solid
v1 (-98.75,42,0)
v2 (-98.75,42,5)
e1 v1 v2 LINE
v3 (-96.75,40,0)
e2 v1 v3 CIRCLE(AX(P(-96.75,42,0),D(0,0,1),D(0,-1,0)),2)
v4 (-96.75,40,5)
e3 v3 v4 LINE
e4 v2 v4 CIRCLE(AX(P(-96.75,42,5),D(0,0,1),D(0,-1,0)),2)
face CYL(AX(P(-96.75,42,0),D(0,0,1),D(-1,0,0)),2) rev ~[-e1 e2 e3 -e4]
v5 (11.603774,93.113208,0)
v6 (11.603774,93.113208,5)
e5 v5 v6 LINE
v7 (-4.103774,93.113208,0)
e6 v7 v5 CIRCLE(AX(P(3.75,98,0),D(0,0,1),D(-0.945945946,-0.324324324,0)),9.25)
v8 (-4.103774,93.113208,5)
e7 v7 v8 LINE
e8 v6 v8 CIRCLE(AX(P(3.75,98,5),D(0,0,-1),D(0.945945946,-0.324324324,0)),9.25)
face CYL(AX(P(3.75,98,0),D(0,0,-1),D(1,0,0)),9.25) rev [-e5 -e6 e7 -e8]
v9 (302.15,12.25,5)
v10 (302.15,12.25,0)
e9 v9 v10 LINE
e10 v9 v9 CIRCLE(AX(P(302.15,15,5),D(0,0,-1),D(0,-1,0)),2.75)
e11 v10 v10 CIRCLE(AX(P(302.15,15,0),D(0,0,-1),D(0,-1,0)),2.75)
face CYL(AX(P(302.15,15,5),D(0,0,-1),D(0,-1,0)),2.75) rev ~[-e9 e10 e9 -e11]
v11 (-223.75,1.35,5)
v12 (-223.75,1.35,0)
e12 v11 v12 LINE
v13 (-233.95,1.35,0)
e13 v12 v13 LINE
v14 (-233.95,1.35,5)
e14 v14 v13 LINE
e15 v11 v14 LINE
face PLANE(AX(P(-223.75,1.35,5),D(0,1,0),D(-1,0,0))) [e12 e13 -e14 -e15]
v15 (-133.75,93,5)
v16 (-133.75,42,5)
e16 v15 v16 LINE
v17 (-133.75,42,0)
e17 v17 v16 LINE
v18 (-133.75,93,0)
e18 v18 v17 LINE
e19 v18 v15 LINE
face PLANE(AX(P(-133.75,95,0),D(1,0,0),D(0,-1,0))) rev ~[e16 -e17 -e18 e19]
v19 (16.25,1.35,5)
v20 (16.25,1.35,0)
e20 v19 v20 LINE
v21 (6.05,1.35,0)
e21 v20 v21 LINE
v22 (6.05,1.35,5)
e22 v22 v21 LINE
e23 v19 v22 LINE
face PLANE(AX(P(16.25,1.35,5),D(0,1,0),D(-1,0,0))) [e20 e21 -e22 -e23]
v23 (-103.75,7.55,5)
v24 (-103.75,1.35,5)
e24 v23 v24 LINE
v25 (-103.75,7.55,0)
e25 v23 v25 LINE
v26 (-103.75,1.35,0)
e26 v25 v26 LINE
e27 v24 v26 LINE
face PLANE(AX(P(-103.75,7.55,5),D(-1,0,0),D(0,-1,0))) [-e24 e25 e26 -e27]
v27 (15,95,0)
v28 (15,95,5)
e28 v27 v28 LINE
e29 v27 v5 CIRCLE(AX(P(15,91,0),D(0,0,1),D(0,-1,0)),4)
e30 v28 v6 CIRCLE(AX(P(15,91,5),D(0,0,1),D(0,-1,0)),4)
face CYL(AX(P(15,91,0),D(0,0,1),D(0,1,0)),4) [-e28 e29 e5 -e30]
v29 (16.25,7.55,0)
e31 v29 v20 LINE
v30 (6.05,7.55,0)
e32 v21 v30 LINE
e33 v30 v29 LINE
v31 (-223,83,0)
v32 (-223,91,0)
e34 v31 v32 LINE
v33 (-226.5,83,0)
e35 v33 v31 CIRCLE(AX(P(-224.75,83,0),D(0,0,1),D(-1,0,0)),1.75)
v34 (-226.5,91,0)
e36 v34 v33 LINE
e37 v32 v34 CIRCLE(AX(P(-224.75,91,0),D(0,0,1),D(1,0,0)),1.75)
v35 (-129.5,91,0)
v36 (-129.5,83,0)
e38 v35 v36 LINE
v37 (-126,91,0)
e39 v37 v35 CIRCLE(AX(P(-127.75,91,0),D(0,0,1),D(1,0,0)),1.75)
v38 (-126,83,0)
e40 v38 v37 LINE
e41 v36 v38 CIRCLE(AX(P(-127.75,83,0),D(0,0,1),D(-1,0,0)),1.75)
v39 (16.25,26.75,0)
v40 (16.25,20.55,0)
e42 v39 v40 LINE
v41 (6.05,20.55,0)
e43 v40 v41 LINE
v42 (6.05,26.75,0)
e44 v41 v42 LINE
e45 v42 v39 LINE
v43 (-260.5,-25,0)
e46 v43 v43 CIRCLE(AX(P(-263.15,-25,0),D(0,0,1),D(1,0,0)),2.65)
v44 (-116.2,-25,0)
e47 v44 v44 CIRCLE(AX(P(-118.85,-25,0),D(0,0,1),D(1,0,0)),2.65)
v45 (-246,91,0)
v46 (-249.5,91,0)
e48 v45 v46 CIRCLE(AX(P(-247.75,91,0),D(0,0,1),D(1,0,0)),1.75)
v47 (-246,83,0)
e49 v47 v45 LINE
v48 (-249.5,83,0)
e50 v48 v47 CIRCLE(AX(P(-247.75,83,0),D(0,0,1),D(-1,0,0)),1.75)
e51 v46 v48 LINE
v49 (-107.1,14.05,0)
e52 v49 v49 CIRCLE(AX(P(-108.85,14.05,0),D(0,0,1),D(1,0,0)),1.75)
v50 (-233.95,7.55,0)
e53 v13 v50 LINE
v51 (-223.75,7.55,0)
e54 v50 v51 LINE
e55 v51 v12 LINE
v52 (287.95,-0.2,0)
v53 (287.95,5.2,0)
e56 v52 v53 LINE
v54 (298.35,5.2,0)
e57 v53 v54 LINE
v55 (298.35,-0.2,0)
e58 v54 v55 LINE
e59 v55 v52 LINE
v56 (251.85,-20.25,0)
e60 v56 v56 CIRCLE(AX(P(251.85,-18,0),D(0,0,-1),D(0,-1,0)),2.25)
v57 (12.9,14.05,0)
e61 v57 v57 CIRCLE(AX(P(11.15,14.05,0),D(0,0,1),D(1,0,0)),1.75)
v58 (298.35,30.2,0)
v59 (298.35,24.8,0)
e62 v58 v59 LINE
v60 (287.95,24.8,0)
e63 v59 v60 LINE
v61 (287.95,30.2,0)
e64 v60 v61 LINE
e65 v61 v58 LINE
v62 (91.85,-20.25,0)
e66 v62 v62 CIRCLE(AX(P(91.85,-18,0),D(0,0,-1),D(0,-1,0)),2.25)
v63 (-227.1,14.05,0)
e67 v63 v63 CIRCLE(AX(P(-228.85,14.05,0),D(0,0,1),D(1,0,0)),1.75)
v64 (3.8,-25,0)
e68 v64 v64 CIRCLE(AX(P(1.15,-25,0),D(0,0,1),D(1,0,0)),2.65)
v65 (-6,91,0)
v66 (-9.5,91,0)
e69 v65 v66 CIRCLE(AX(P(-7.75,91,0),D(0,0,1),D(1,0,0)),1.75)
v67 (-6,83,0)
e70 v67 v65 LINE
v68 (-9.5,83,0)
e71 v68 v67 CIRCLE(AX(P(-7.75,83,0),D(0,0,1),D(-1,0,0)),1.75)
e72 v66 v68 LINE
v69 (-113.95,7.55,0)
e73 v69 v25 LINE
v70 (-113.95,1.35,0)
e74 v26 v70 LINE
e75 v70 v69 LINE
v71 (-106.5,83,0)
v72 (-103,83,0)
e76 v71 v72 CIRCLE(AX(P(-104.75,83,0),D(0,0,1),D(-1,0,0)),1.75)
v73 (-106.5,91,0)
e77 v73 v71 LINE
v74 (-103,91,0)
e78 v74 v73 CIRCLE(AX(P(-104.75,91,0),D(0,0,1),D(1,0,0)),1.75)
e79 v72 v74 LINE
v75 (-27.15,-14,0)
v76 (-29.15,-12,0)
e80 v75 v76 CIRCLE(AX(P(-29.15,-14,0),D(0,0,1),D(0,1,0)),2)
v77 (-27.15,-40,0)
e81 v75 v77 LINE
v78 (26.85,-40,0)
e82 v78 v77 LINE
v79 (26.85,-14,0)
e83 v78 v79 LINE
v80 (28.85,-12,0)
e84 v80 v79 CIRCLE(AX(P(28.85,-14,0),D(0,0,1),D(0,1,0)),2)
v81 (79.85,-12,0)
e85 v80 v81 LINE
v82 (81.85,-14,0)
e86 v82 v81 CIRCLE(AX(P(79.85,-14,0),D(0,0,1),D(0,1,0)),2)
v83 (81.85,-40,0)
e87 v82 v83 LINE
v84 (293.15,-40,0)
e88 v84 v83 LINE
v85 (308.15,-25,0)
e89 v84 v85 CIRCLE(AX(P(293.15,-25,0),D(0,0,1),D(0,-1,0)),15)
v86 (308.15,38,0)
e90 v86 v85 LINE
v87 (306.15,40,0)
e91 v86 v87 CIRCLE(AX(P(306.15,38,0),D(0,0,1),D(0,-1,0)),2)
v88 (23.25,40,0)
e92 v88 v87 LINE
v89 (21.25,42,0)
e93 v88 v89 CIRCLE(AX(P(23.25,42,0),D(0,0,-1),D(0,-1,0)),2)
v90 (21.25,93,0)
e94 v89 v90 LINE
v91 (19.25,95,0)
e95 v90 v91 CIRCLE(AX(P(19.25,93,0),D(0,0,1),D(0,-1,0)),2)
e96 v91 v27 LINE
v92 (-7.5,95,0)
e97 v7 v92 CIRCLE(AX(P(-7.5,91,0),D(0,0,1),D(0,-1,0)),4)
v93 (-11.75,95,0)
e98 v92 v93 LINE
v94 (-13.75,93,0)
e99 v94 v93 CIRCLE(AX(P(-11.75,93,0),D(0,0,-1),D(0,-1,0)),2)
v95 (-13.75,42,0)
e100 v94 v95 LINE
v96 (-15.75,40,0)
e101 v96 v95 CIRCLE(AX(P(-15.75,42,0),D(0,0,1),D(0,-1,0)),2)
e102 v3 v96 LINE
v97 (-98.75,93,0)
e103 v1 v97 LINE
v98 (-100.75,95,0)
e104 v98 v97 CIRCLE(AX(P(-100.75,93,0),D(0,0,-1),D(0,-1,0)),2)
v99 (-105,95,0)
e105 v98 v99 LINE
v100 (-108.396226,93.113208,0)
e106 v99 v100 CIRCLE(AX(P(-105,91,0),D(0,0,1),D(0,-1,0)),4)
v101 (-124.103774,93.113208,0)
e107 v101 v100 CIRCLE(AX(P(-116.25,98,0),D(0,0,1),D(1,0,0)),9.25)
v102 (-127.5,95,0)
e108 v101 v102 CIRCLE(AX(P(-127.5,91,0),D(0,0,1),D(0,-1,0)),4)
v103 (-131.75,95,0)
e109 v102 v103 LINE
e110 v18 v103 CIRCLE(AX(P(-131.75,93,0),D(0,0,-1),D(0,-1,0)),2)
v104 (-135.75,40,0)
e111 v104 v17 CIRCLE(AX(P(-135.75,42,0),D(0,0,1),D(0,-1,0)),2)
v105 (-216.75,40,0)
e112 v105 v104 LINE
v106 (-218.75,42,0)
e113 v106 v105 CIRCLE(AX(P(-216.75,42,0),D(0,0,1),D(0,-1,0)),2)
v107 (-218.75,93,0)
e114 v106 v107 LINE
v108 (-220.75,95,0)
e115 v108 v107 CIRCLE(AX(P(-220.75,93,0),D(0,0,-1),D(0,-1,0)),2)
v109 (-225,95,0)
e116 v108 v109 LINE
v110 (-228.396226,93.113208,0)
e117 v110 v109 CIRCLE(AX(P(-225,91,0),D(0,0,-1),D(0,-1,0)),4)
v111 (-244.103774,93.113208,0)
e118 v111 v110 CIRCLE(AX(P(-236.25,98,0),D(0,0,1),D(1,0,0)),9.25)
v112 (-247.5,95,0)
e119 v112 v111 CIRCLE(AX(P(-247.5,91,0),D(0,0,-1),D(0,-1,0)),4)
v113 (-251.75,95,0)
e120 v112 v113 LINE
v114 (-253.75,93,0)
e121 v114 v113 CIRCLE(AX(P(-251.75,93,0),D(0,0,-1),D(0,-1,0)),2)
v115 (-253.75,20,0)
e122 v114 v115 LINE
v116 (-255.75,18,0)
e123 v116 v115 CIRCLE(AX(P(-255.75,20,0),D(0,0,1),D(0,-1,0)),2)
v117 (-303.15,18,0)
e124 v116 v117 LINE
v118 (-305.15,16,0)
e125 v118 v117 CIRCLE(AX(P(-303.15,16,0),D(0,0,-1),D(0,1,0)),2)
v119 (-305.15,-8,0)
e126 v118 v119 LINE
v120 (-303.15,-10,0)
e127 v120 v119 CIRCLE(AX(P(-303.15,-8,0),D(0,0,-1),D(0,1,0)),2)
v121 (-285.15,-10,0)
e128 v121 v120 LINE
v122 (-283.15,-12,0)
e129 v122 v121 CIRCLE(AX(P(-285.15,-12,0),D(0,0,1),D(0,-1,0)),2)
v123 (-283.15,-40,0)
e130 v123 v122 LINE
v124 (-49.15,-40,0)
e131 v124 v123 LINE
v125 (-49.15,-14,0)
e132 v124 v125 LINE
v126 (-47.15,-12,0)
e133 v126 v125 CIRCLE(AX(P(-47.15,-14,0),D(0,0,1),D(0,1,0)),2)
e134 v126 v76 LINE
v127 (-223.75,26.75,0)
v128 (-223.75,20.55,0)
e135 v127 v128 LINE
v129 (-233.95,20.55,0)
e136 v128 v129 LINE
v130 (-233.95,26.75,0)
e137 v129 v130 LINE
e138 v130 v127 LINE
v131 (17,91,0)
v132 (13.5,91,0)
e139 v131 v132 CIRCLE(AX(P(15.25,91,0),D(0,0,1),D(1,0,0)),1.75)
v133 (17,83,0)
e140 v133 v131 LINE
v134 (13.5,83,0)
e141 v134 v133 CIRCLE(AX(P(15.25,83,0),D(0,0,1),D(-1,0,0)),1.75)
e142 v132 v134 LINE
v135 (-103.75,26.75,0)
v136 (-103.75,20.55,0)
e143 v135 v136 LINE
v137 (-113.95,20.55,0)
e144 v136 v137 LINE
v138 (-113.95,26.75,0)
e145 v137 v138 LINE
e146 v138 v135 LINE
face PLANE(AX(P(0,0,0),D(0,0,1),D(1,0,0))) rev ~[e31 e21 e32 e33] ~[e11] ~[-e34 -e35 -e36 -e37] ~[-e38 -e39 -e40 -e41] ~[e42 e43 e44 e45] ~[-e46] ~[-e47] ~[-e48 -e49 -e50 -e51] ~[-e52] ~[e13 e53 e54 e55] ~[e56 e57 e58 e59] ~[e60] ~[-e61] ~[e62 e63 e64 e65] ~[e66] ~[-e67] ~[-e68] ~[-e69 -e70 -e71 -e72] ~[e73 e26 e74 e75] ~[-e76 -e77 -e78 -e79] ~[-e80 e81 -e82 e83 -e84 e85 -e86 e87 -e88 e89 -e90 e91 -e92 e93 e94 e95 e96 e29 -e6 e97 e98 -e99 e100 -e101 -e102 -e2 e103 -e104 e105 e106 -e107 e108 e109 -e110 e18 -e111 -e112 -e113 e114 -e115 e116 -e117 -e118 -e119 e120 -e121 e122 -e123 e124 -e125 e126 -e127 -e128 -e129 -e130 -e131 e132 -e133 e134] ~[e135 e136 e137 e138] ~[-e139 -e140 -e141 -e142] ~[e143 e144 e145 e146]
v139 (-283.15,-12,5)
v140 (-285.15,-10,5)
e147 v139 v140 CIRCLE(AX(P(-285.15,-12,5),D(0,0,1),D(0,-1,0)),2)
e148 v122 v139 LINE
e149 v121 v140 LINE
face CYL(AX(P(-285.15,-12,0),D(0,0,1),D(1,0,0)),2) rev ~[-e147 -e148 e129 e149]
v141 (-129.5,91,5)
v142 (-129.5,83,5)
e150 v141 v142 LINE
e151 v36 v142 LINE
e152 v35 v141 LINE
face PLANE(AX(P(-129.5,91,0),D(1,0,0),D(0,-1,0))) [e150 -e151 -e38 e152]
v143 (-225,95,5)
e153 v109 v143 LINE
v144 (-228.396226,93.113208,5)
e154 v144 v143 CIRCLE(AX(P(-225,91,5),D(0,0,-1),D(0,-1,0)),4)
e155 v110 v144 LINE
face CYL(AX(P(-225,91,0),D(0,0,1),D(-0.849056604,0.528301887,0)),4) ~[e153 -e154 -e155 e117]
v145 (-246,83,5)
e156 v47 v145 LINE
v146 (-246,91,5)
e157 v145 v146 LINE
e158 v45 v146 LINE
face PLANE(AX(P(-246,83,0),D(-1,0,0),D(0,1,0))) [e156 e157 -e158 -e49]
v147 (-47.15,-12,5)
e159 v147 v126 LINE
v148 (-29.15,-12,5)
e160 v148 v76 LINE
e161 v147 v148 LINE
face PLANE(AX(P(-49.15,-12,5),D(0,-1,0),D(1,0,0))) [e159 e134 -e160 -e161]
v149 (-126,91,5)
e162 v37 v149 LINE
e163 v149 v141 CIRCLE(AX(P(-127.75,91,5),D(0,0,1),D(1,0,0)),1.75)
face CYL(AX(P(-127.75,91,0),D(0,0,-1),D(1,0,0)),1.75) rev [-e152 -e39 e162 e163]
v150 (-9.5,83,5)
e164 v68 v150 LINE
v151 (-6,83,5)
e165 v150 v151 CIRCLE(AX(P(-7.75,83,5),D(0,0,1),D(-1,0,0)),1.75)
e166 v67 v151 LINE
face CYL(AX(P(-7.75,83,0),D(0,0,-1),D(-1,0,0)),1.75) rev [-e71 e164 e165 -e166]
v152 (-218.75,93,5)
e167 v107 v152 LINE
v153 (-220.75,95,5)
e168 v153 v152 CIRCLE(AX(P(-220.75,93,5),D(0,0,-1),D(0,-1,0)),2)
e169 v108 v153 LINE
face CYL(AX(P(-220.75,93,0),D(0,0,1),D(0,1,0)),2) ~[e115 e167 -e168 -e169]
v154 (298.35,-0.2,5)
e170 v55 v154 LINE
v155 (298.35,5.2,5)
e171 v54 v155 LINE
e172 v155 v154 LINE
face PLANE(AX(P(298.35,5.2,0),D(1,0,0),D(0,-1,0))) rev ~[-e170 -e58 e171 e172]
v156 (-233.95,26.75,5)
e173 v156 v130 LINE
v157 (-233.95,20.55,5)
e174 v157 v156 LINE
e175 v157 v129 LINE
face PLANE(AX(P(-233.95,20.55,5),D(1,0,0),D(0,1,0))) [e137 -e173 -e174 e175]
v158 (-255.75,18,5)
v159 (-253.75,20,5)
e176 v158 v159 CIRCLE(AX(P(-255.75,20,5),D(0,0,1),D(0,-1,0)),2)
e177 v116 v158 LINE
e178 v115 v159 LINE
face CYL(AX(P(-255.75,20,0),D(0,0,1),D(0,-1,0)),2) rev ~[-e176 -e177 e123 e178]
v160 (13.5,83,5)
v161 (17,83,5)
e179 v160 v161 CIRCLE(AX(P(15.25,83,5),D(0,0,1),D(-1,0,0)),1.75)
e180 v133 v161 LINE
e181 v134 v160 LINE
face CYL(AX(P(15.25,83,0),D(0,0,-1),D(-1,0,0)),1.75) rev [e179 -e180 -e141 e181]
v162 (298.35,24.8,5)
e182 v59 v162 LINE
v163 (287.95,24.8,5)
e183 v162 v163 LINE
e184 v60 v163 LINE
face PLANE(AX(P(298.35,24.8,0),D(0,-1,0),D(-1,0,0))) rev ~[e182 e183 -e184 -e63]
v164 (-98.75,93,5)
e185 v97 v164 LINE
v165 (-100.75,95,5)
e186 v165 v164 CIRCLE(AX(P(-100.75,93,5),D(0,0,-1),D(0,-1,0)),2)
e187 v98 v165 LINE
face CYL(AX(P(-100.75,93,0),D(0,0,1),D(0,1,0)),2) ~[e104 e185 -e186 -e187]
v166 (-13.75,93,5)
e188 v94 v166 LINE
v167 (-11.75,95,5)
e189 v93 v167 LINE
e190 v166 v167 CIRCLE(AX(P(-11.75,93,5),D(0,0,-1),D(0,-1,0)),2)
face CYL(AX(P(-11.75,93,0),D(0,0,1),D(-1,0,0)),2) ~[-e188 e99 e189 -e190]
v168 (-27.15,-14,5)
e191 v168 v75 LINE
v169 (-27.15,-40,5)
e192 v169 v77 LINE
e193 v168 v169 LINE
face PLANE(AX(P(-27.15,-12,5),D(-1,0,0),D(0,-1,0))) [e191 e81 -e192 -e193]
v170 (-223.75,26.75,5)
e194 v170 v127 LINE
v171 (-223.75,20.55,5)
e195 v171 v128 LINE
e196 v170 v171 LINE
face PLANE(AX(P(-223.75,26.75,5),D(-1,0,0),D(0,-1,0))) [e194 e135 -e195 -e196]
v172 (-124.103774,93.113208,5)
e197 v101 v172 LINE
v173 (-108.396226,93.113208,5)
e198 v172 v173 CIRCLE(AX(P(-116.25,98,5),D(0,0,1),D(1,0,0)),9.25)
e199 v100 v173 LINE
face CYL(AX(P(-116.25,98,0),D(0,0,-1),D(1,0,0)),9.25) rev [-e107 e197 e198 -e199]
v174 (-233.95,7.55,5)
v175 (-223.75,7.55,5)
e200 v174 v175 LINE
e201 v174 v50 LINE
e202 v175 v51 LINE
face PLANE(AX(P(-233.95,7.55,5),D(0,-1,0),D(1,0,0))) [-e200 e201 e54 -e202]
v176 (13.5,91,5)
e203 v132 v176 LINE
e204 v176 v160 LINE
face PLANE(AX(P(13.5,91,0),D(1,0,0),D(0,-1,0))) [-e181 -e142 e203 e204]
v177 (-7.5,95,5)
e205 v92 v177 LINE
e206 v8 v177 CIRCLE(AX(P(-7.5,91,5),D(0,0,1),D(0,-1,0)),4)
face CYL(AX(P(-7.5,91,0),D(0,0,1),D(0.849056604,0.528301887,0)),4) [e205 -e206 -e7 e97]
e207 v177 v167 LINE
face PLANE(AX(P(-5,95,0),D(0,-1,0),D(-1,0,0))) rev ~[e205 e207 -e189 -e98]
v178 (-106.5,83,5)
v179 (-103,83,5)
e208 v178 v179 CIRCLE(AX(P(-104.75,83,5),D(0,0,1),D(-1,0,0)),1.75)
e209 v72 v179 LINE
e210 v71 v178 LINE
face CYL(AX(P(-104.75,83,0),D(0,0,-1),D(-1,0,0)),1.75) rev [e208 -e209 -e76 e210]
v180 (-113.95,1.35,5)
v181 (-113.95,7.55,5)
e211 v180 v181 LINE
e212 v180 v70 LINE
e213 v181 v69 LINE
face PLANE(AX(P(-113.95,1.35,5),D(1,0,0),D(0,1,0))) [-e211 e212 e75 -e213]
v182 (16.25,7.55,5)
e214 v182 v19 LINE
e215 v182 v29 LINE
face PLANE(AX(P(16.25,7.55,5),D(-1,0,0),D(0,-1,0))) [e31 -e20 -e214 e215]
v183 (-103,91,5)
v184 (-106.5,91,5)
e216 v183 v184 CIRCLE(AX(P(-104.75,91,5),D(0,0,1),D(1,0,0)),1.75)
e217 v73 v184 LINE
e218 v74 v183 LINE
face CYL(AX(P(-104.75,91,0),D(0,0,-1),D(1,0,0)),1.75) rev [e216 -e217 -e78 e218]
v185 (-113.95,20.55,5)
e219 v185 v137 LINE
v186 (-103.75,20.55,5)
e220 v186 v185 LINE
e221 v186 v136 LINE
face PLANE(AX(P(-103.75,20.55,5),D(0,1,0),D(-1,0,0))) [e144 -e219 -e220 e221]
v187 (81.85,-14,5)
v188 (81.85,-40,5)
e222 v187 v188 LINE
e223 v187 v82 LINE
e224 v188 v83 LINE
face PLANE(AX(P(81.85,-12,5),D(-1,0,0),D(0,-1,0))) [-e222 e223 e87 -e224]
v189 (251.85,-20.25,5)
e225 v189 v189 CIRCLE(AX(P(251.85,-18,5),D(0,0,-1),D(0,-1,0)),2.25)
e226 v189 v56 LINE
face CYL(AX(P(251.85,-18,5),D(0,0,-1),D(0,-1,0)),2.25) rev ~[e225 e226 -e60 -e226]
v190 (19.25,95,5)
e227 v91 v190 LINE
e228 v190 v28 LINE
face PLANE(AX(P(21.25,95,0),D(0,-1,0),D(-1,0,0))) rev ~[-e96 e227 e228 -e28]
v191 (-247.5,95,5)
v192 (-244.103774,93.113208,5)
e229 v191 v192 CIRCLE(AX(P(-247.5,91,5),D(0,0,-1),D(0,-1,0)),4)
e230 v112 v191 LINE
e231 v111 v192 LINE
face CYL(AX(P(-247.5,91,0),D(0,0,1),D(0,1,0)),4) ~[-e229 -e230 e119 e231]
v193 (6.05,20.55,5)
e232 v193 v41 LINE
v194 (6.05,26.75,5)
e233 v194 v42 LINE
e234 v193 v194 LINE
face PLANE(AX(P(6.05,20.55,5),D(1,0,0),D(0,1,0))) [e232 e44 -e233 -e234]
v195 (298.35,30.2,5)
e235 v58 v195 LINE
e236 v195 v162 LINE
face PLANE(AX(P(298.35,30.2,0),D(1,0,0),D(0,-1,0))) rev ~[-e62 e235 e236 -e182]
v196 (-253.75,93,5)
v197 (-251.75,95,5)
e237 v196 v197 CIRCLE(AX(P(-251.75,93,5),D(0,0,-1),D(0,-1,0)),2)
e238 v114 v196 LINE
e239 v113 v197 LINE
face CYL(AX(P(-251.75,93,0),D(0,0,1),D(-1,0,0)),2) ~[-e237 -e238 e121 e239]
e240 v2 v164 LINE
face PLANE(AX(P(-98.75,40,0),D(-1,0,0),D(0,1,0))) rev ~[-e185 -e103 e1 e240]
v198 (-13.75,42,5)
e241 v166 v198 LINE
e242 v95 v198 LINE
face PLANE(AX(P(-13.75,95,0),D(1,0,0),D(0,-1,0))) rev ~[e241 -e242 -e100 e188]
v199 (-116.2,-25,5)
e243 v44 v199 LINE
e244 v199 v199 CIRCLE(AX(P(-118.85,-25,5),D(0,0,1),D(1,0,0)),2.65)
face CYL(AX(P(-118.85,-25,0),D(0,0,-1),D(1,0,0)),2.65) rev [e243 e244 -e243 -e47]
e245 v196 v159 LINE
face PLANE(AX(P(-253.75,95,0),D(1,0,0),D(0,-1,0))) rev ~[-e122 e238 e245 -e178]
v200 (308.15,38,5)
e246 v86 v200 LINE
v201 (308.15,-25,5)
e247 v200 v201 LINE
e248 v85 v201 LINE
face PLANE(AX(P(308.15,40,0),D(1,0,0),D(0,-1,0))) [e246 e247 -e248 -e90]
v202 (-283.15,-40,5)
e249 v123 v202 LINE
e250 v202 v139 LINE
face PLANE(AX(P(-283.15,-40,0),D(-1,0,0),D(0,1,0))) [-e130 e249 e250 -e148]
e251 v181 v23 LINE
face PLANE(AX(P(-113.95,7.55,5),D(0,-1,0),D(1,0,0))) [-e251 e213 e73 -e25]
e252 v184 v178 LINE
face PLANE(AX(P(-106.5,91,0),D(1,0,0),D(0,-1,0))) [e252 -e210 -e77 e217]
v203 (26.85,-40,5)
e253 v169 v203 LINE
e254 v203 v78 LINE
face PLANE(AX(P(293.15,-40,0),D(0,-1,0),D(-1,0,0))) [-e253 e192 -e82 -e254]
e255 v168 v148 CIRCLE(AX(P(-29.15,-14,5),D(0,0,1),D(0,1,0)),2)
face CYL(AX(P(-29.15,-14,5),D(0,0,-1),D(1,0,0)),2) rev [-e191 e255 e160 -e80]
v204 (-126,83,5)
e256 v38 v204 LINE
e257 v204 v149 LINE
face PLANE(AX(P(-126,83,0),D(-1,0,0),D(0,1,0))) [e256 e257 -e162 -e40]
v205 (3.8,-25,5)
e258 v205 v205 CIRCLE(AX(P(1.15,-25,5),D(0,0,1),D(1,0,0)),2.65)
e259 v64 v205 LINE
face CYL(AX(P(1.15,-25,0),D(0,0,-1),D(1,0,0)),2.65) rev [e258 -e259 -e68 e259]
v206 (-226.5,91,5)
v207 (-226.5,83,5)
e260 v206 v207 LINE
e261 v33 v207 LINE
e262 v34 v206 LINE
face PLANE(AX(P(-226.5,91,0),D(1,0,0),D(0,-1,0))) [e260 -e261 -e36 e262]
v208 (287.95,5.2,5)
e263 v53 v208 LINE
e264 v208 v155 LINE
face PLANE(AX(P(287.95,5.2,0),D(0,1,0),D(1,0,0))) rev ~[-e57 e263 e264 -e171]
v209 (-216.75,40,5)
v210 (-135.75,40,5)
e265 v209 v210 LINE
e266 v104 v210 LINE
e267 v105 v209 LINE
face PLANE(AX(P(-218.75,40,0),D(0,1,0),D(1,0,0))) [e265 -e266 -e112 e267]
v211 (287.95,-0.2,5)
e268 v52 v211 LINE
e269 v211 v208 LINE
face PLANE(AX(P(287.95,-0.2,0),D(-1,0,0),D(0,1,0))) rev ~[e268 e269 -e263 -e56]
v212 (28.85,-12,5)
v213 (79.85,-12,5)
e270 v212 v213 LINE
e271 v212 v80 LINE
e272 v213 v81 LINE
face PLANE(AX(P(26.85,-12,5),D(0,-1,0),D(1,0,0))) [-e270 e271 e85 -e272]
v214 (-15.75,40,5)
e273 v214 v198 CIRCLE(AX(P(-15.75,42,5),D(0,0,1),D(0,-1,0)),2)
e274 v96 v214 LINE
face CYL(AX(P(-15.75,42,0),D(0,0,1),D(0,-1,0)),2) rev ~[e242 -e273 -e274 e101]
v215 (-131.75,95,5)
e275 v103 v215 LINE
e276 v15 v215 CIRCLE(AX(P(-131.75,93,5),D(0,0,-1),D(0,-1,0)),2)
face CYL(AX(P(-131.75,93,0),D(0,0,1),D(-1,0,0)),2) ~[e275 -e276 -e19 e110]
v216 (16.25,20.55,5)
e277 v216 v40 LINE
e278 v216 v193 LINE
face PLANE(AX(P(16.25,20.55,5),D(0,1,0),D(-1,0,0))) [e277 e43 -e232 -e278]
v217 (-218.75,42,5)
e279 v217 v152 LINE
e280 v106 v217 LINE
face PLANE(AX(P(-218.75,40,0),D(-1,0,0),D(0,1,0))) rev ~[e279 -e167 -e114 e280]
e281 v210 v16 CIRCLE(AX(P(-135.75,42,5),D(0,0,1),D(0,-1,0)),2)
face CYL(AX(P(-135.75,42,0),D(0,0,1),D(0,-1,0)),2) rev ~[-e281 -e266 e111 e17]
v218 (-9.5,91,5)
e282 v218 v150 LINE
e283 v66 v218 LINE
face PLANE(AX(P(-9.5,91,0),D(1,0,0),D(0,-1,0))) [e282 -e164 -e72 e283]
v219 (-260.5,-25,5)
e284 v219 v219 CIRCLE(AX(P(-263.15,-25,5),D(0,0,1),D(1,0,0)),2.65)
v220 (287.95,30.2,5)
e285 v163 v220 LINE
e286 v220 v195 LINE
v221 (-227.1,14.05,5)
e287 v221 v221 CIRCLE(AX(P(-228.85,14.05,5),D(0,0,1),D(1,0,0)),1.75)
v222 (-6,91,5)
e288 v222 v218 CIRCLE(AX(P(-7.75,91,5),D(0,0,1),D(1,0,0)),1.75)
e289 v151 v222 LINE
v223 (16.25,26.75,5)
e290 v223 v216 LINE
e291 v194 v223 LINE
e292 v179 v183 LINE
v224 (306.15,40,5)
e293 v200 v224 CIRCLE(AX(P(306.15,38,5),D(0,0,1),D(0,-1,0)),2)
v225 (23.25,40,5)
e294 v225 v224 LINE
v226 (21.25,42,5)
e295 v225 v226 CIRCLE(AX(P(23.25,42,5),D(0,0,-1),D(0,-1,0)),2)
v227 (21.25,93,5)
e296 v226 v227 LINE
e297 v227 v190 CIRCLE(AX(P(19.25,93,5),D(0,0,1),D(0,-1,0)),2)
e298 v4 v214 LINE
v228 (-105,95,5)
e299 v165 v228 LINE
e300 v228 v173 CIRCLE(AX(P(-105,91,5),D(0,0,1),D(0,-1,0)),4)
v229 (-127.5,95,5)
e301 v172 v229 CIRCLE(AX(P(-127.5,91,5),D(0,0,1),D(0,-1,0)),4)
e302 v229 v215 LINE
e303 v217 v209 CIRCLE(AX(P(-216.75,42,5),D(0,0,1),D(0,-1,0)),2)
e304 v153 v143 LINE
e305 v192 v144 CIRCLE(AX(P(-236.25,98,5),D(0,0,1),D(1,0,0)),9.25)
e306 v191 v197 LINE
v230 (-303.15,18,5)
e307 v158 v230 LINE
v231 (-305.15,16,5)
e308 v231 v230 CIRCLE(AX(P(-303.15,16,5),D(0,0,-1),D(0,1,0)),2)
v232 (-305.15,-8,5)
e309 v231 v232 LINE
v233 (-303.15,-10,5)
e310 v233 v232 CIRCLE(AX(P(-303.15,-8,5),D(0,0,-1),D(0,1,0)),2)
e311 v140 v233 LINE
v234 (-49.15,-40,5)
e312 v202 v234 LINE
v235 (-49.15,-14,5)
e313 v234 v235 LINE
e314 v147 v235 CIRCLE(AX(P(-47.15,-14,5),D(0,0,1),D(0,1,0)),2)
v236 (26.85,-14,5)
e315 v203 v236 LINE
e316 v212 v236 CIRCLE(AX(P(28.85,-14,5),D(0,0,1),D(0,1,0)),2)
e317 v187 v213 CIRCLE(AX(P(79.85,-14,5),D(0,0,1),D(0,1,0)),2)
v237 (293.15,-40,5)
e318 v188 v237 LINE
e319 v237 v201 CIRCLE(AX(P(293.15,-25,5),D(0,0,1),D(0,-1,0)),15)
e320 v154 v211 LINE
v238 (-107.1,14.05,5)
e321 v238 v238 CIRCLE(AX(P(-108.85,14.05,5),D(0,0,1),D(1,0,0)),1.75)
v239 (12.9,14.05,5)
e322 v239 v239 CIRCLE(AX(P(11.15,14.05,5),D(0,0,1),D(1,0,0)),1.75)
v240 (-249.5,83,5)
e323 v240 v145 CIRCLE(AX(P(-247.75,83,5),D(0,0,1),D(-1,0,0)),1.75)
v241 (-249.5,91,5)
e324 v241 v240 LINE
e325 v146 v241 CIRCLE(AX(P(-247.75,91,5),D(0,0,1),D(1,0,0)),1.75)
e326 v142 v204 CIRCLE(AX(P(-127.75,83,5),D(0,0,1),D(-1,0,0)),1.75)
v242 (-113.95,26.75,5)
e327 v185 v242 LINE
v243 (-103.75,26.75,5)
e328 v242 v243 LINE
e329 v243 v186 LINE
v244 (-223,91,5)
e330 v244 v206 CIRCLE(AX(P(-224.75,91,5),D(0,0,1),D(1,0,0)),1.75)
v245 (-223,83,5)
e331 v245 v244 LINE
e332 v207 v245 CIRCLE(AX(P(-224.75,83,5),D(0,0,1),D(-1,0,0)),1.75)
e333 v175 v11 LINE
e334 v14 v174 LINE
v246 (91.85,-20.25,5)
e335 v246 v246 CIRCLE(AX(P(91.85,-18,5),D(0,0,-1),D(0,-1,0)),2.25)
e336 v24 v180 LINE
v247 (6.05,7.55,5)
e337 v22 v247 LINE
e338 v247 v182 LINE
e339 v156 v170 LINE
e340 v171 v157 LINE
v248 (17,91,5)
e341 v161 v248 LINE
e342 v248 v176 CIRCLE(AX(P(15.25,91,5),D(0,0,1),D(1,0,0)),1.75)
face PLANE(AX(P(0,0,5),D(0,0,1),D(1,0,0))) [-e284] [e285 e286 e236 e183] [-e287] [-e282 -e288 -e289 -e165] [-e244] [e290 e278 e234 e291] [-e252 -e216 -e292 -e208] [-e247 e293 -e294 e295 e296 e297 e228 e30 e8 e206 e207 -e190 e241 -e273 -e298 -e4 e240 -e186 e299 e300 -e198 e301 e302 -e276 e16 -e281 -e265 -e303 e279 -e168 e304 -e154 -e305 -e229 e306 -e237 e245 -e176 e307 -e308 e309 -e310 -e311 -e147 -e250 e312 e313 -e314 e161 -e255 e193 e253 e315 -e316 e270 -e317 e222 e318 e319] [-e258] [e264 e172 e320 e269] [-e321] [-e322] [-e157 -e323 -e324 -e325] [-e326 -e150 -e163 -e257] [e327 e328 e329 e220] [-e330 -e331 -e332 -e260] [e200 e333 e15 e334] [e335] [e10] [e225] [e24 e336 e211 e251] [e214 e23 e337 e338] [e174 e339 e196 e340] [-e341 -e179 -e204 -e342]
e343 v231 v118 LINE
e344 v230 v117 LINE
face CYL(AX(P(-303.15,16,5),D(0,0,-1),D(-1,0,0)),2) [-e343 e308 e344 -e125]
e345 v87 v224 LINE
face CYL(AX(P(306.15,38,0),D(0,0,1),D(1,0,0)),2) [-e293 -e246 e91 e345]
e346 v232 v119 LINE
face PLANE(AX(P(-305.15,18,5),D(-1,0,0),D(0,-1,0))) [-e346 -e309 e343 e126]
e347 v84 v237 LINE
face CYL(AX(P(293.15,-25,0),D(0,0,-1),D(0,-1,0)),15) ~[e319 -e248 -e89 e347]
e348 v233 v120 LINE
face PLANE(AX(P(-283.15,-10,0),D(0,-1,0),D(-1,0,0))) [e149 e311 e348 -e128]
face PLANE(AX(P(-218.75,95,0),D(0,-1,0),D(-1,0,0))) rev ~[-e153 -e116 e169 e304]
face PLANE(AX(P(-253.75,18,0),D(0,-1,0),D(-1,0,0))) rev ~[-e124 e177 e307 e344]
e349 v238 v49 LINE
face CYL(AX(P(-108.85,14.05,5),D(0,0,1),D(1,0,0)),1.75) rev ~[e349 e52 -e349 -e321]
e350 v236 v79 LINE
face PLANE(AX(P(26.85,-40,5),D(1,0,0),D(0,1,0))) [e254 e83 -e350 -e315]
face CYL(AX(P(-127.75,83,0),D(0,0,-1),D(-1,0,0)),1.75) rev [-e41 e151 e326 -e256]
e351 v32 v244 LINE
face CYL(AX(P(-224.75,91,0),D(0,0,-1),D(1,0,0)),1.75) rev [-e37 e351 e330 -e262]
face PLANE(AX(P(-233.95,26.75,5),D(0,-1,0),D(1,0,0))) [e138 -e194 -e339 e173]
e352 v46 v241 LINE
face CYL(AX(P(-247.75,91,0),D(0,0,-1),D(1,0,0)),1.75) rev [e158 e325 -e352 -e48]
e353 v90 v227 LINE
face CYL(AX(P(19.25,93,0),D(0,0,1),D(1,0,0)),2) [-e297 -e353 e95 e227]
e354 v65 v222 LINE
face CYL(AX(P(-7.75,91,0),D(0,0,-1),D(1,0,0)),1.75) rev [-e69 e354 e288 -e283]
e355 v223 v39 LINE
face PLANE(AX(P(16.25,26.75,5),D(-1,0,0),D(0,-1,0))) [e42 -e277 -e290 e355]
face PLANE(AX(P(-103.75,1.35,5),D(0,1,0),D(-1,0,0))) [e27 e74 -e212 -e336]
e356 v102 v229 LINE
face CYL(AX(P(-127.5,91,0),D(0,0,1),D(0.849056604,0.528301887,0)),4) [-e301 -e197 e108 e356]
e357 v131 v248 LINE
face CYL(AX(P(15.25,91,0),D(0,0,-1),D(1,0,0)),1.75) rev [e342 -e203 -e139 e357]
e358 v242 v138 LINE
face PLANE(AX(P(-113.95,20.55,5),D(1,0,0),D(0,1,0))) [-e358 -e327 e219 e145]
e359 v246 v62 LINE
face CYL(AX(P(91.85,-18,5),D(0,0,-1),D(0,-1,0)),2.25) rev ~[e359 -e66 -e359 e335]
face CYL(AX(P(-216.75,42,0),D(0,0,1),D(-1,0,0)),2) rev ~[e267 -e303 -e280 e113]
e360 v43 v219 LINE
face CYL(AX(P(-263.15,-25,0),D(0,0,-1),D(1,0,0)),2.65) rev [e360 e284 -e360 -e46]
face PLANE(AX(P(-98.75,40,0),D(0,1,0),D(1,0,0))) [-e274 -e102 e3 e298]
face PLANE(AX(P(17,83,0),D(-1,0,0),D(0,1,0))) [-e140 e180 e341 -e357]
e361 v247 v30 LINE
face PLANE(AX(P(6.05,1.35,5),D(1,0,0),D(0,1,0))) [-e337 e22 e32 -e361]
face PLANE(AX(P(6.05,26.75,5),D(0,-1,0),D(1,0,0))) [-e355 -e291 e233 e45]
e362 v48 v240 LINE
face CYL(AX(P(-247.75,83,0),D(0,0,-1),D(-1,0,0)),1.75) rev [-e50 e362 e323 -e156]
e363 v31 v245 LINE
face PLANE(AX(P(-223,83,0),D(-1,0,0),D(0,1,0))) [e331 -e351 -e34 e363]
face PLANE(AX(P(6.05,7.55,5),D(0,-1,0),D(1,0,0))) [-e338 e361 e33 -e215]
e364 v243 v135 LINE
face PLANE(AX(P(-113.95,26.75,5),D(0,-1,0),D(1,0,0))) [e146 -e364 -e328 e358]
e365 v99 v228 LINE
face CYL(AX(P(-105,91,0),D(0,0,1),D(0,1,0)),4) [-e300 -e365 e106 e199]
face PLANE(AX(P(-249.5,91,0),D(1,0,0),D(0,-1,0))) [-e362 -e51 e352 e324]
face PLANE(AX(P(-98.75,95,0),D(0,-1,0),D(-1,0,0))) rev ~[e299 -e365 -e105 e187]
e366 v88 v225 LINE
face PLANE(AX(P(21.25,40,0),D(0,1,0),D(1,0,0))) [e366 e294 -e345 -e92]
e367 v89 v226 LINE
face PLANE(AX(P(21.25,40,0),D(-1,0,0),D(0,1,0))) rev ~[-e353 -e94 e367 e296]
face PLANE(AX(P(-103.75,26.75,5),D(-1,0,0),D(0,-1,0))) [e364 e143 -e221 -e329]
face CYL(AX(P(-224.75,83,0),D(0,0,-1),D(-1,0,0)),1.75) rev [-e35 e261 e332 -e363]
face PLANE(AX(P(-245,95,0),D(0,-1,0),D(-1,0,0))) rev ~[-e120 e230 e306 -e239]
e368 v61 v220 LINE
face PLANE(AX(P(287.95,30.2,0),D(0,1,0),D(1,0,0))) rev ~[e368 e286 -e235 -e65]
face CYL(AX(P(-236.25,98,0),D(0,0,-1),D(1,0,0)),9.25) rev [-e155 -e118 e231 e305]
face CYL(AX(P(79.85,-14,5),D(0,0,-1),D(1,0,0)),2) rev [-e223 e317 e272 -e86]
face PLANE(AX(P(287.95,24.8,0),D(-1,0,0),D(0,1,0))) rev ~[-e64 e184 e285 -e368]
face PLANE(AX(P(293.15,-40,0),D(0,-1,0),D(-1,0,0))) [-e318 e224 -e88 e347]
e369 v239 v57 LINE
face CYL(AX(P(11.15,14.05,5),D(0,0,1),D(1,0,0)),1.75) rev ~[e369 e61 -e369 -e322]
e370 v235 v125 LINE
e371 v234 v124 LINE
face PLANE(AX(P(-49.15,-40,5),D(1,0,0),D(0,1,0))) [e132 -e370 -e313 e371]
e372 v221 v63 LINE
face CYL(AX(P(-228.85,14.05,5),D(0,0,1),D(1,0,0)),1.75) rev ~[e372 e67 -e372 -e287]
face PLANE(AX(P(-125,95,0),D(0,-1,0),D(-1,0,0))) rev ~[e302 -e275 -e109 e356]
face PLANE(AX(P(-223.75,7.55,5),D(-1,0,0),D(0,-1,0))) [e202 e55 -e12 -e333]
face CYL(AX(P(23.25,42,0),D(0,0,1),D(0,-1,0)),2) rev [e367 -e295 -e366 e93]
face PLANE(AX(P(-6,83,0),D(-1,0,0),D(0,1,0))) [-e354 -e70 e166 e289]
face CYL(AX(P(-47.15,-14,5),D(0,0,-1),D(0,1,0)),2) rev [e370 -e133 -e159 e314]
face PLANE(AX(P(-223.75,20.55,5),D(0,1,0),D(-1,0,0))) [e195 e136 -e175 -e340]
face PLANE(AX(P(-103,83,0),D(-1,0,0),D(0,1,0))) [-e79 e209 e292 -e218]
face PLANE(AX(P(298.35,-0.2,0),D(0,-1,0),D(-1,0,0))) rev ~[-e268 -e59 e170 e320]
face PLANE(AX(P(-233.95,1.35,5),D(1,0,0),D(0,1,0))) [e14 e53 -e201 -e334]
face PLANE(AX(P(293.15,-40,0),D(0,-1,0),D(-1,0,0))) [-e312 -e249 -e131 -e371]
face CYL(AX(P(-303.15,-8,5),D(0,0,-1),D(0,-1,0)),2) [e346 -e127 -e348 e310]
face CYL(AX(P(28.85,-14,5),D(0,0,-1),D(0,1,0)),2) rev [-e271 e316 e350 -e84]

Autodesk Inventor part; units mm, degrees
ref_plane "YZ Plane" through (0, 0, 0) normal (1, 0, 0) x (0, 1, 0)
ref_plane "XZ Plane" through (0, 0, 0) normal (0, 1, 0) x (-1, 0, 0)
ref_plane "XY Plane" through (0, 0, 0) normal (0, 0, 1) x (1, 0, 0)
sketch "Sketch1" plane through (0, 0, 0) normal (0, 0, 1) x (1, 0, 0)
  line L0 (308.15, 40) -> (308.15, -25)
  line L1 (-308.15, -25) -> (-308.15, 18)
  line L2 (0, 136.1557) -> (0, 0)
  line L3 (0, 0) -> (214.7287, 0)
  line L4 (-218.75, 40) -> (-218.75, 95)
  line L5 (-218.75, 95) -> (-253.75, 95)
  line L6 (-253.75, 95) -> (-253.75, 18)
  line L7 (-98.75, 40) -> (-98.75, 95)
  line L8 (-98.75, 95) -> (-133.75, 95)
  line L9 (-133.75, 95) -> (-133.75, 40)
  line L10 (21.25, 40) -> (21.25, 95)
  line L11 (21.25, 95) -> (-13.75, 95)
  line L12 (-13.75, 95) -> (-13.75, 40)
  line L13 (-218.75, 40) -> (-133.75, 40)
  line L14 (-98.75, 40) -> (-13.75, 40)
  line L15 (21.25, 40) -> (308.15, 40)
  arc A0 (-308.15, -25) -> (-293.15, -40) centre (-293.15, -25) ccw
  arc A1 (293.15, -40) -> (308.15, -25) centre (293.15, -25) ccw
  line L16 (293.15, -40) -> (252.5, -40)
  line L17 (-257.5, -40) -> (-293.15, -40)
  line L18 (287.95, 30.2) -> (298.35, 30.2)
  line L19 (298.35, 30.2) -> (298.35, 24.8)
  line L20 (298.35, 24.8) -> (287.95, 24.8)
  line L21 (287.95, 24.8) -> (287.95, 30.2)
  line L22 (287.95, 5.2) -> (298.35, 5.2)
  line L23 (298.35, 5.2) -> (298.35, -0.2)
  line L24 (298.35, -0.2) -> (287.95, -0.2)
  line L25 (287.95, -0.2) -> (287.95, 5.2)
  line L26 (252.5, -40) -> (-257.5, -40)
  line L27 (88.15, -10) -> (88.15, -40)
  line L28 (21.15, -40) -> (21.15, -10)
  line L29 (-18.85, -10) -> (-18.85, -40)
  line L30 (-283.15, -40) -> (-283.15, -10)
  line L31 (-283.15, -10) -> (-308.15, -10)
  line L32 (88.15, -10) -> (21.15, -10)
  line L33 (-18.85, -10) -> (-98.85, -10)
  line L34 (-98.85, -10) -> (-98.85, -40)
  circle A2 centre (-263.15, -25) radius 2.65
  circle A3 centre (-118.85, -25) radius 2.65
  circle A4 centre (1.15, -25) radius 2.65
  line L35 (-247.75, 91) -> (-247.75, 83) construction
  line L36 (-249.5, 91) -> (-249.5, 83)
  line L37 (-246, 83) -> (-246, 91)
  arc A5 (-246, 91) -> (-249.5, 91) centre (-247.75, 91) ccw
  arc A6 (-249.5, 83) -> (-246, 83) centre (-247.75, 83) ccw
  line L38 (-224.75, 91) -> (-224.75, 83) construction
  line L39 (-226.5, 91) -> (-226.5, 83)
  line L40 (-223, 83) -> (-223, 91)
  arc A7 (-223, 91) -> (-226.5, 91) centre (-224.75, 91) ccw
  arc A8 (-226.5, 83) -> (-223, 83) centre (-224.75, 83) ccw
  line L41 (-236.25, 95) -> (-236.25, 40) construction
  line L42 (-126, 83) -> (-126, 91)
  line L43 (-127.75, 91) -> (-127.75, 83) construction
  arc A9 (-129.5, 83) -> (-126, 83) centre (-127.75, 83) ccw
  line L44 (-129.5, 91) -> (-129.5, 83)
  arc A10 (-126, 91) -> (-129.5, 91) centre (-127.75, 91) ccw
  line L45 (-103, 83) -> (-103, 91)
  arc A11 (-106.5, 83) -> (-103, 83) centre (-104.75, 83) ccw
  line L46 (-104.75, 91) -> (-104.75, 83) construction
  line L47 (-106.5, 91) -> (-106.5, 83)
  arc A12 (-103, 91) -> (-106.5, 91) centre (-104.75, 91) ccw
  line L48 (-6, 83) -> (-6, 91)
  line L49 (-7.75, 91) -> (-7.75, 83) construction
  arc A13 (-9.5, 83) -> (-6, 83) centre (-7.75, 83) ccw
  line L50 (-9.5, 91) -> (-9.5, 83)
  arc A14 (-6, 91) -> (-9.5, 91) centre (-7.75, 91) ccw
  line L51 (17, 83) -> (17, 91)
  arc A15 (13.5, 83) -> (17, 83) centre (15.25, 83) ccw
  line L52 (15.25, 91) -> (15.25, 83) construction
  line L53 (13.5, 91) -> (13.5, 83)
  arc A16 (17, 91) -> (13.5, 91) centre (15.25, 91) ccw
  circle A17 centre (-236.25, 98) radius 9.25
  line L54 (-98.75, 40) -> (-98.75, 95)
  circle A18 centre (-116.25, 98) radius 9.25
  line L55 (21.25, 40) -> (21.25, 95)
  circle A19 centre (3.75, 98) radius 9.25
  line L56 (-253.75, 18) -> (-308.15, 18)
  point P0 (-247.75, 87)
  point P1 (-224.75, 87)
  point P2 (-127.75, 87)
  point P3 (-104.75, 87)
  point P4 (-7.75, 87)
  point P5 (15.25, 87)
  point P6 (-107.5, 95)
  point P7 (-125, 95)
  point P8 (-227.5, 95)
  point P9 (-245, 95)
  point P10 (12.5, 95)
  point P11 (-5, 95)
  dimension "d2" = 54.4
  dimension "d3" = 35
  dimension "d4" = 85
  dimension "d5" = 55
  dimension "d6" = 15
  dimension "d10" = 80
  dimension "d99" = 5.4
  dimension "d101" = 10.4
  dimension "d102" = 9.8
  dimension "d103" = 19.6
  dimension "d104" = 9.8
  dimension "d175" = 220
  dimension "d176" = 67
  dimension "d177" = 40
  dimension "d178" = 25
  dimension "d181" = 80
  dimension "d182" = 30
  dimension "d183" = 15
  dimension "d184" = 20
  dimension "d185" = 20
  dimension "d186" = 5.3
  dimension "d187" = 5.3
  dimension "d188" = 5.3
  dimension "d189" = 20
  dimension "d193" = 3.5
  dimension "d194" = 3.5
  dimension "d195" = 8
  dimension "d196" = 8
  dimension "d197" = 4
  dimension "d198" = 4
  dimension "d202" = 120
  dimension "d207" = 18.5
  dimension "d208" = 3
  dimension "d209" = 17.5
  dimension "d212" = 120
  dimension "d230" = 616.3
  dimension "d231" = 22
  dimension "d285" = 11.5
extrude "Extrusion1" add sketch "Sketch1" along normal blind 5 contours L0 A1 L16 L26 L27 L32 L28 L29 L33 L34 L17 L30 L31 L1 L56 L6 L5 A17 L4 L13 L9 L8 A18 L7 L14 L12 L11 A19 L10 L15 | L26 L28 L32 L27 | L26 L34 L33 L29
fillet "Fillet1" radius 2 16 edges at (-253.75, 95, 2.5) (-253.75, 18, 2.5) (-308.15, 18, 2.5) (308.15, 40, 2.5) (21.25, 95, 2.5) (21.25, 40, 2.5) (-13.75, 95, 2.5) (-13.75, 40, 2.5) (-98.75, 40, 2.5) (-98.75, 95, 2.5) (-133.75, 95, 2.5) (-133.75, 40, 2.5) (-218.75, 40, 2.5) (-218.75, 95, 2.5) (-308.15, -10, 2.5) (-283.15, -10, 2.5)
sketch "Sketch11" plane through (0, 0, 5) normal (0, 0, 1) x (1, 0, 0)
  line L0 (308.15, -25) -> (308.15, 38) projected
  line L1 (298.35, 24.8) -> (287.95, 24.8) projected
  point P0 (0, 0)
  point P1 (302.15, 15)
  point P2 (308.15, 38)
  point P3 (312.5, -10)
  dimension "d140" = 6
  dimension "d141" = 9.8
hole "Hole10" at (302.15, 15, 5) direction (0, 0, -1) diameter 5.5 end through all
sketch "Skizze13" plane through (0, 0, 5) normal (0, 0, 1) x (1, 0, 0)
  line L0 (-283.15, -40) -> (293.15, -40) projected
  line L1 (-49.15, -12) -> (-27.15, -12)
  line L2 (-27.15, -12) -> (-27.15, -40)
  line L3 (-27.15, -40) -> (-49.15, -40)
  line L4 (-49.15, -40) -> (-49.15, -12)
  line L5 (-308.15, 16) -> (-308.15, -8) projected
  line L6 (26.85, -12) -> (81.85, -12)
  line L7 (81.85, -12) -> (81.85, -40)
  line L8 (81.85, -40) -> (26.85, -40)
  line L9 (26.85, -40) -> (26.85, -12)
  point P0 (0, 0)
  point P1 (-49.15, -40)
  point P2 (26.85, -40)
  dimension "d232" = 22
  dimension "d233" = 28
  dimension "d234" = 259
  dimension "d238" = 335
  dimension "d239" = 55
extrude "Extrusion3" cut sketch "Skizze13" against normal through all
fillet "Rundung6" radius 2 4 edges at (-49.15, -12, 2.5) (-27.15, -12, 2.5) (26.85, -12, 2.5) (81.85, -12, 2.5)
sketch "Skizze14" plane through (0, 0, 5) normal (0, 0, 1) x (1, 0, 0)
  line L0 (-308.15, 16) -> (-308.15, -8) projected
  line L1 (83.85, -40) -> (293.15, -40) projected
  point P0 (0, 0)
  point P1 (251.85, -18)
  point P2 (91.85, -18)
  dimension "d241" = 560
  dimension "d242" = 22
  dimension "d243" = 160
hole "Bohrung11" at (251.85, -18, 5) at (91.85, -18, 5) direction (0, 0, -1) diameter 4.5 end through all
sketch "Skizze16" plane through (0, 0, 5) normal (0, 0, 1) x (1, 0, 0)
  line L0 (-233.95, 26.75) -> (-223.75, 26.75)
  line L1 (-223.75, 26.75) -> (-223.75, 20.55)
  line L2 (-223.75, 20.55) -> (-233.95, 20.55)
  line L3 (-233.95, 20.55) -> (-233.95, 26.75)
  line L4 (-233.95, 7.55) -> (-223.75, 7.55)
  line L5 (-223.75, 7.55) -> (-223.75, 1.35)
  line L6 (-223.75, 1.35) -> (-233.95, 1.35)
  line L7 (-233.95, 1.35) -> (-233.95, 7.55)
  line L8 (-218.75, 42) -> (-218.75, 93) projected
  line L9 (-135.75, 40) -> (-216.75, 40) projected
  circle A0 centre (-228.85, 14.05) radius 1.75
  line L10 (-113.95, 26.75) -> (-103.75, 26.75)
  line L11 (-103.75, 26.75) -> (-103.75, 20.55)
  line L12 (-103.75, 20.55) -> (-113.95, 20.55)
  line L13 (-113.95, 20.55) -> (-113.95, 26.75)
  circle A1 centre (-108.85, 14.05) radius 1.75
  line L14 (-113.95, 7.55) -> (-103.75, 7.55)
  line L15 (-103.75, 7.55) -> (-103.75, 1.35)
  line L16 (-113.95, 1.35) -> (-113.95, 7.55)
  line L17 (-103.75, 1.35) -> (-113.95, 1.35)
  line L18 (6.05, 26.75) -> (16.25, 26.75)
  line L19 (16.25, 26.75) -> (16.25, 20.55)
  line L20 (16.25, 20.55) -> (6.05, 20.55)
  line L21 (6.05, 20.55) -> (6.05, 26.75)
  circle A2 centre (11.15, 14.05) radius 1.75
  line L22 (6.05, 7.55) -> (16.25, 7.55)
  line L23 (16.25, 7.55) -> (16.25, 1.35)
  line L24 (6.05, 1.35) -> (6.05, 7.55)
  line L25 (16.25, 1.35) -> (6.05, 1.35)
  point P0 (0, 0)
  dimension "d267" = 5
  dimension "d268" = 10.2
  dimension "d269" = 6.2
  dimension "d270" = 6.2
  dimension "d271" = 13
  dimension "d272" = 13.25
  dimension "d273" = 3.5
  dimension "d274" = 5.1
  dimension "d275" = 6.5
  dimension "d280" = 120
extrude "Extrusion4" cut sketch "Skizze16" against normal through all
fillet "Rundung7" radius 4 6 edges at (12.5, 95, 2.5) (-5, 95, 2.5) (-107.5, 95, 2.5) (-125, 95, 2.5) (-227.5, 95, 2.5) (-245, 95, 2.5)
sketch "Skizze17" plane through (0, 0, 5) normal (0, 0, 1) x (1, 0, 0)
  line L0 (-308.15, 18) -> (-305.15, 18)
  line L1 (-305.15, 18) -> (-305.15, -10)
  line L2 (-305.15, -10) -> (-308.15, -10)
  line L3 (-308.15, -10) -> (-308.15, 18)
  line L4 (-255.75, 18) -> (-306.15, 18) projected
  line L5 (-306.15, -10) -> (-285.15, -10) projected
  line L6 (-308.15, 16) -> (-308.15, -8) projected
  point P0 (0, 0)
  dimension "d287" = 3
extrude "Extrusion5" cut sketch "Skizze17" against normal through all
fillet "Rundung8" radius 2 2 edges at (-305.15, 18, 2.5) (-305.15, -10, 2.5)
properties part number "104.002.01_Foerderband_Halterung_hinten"
